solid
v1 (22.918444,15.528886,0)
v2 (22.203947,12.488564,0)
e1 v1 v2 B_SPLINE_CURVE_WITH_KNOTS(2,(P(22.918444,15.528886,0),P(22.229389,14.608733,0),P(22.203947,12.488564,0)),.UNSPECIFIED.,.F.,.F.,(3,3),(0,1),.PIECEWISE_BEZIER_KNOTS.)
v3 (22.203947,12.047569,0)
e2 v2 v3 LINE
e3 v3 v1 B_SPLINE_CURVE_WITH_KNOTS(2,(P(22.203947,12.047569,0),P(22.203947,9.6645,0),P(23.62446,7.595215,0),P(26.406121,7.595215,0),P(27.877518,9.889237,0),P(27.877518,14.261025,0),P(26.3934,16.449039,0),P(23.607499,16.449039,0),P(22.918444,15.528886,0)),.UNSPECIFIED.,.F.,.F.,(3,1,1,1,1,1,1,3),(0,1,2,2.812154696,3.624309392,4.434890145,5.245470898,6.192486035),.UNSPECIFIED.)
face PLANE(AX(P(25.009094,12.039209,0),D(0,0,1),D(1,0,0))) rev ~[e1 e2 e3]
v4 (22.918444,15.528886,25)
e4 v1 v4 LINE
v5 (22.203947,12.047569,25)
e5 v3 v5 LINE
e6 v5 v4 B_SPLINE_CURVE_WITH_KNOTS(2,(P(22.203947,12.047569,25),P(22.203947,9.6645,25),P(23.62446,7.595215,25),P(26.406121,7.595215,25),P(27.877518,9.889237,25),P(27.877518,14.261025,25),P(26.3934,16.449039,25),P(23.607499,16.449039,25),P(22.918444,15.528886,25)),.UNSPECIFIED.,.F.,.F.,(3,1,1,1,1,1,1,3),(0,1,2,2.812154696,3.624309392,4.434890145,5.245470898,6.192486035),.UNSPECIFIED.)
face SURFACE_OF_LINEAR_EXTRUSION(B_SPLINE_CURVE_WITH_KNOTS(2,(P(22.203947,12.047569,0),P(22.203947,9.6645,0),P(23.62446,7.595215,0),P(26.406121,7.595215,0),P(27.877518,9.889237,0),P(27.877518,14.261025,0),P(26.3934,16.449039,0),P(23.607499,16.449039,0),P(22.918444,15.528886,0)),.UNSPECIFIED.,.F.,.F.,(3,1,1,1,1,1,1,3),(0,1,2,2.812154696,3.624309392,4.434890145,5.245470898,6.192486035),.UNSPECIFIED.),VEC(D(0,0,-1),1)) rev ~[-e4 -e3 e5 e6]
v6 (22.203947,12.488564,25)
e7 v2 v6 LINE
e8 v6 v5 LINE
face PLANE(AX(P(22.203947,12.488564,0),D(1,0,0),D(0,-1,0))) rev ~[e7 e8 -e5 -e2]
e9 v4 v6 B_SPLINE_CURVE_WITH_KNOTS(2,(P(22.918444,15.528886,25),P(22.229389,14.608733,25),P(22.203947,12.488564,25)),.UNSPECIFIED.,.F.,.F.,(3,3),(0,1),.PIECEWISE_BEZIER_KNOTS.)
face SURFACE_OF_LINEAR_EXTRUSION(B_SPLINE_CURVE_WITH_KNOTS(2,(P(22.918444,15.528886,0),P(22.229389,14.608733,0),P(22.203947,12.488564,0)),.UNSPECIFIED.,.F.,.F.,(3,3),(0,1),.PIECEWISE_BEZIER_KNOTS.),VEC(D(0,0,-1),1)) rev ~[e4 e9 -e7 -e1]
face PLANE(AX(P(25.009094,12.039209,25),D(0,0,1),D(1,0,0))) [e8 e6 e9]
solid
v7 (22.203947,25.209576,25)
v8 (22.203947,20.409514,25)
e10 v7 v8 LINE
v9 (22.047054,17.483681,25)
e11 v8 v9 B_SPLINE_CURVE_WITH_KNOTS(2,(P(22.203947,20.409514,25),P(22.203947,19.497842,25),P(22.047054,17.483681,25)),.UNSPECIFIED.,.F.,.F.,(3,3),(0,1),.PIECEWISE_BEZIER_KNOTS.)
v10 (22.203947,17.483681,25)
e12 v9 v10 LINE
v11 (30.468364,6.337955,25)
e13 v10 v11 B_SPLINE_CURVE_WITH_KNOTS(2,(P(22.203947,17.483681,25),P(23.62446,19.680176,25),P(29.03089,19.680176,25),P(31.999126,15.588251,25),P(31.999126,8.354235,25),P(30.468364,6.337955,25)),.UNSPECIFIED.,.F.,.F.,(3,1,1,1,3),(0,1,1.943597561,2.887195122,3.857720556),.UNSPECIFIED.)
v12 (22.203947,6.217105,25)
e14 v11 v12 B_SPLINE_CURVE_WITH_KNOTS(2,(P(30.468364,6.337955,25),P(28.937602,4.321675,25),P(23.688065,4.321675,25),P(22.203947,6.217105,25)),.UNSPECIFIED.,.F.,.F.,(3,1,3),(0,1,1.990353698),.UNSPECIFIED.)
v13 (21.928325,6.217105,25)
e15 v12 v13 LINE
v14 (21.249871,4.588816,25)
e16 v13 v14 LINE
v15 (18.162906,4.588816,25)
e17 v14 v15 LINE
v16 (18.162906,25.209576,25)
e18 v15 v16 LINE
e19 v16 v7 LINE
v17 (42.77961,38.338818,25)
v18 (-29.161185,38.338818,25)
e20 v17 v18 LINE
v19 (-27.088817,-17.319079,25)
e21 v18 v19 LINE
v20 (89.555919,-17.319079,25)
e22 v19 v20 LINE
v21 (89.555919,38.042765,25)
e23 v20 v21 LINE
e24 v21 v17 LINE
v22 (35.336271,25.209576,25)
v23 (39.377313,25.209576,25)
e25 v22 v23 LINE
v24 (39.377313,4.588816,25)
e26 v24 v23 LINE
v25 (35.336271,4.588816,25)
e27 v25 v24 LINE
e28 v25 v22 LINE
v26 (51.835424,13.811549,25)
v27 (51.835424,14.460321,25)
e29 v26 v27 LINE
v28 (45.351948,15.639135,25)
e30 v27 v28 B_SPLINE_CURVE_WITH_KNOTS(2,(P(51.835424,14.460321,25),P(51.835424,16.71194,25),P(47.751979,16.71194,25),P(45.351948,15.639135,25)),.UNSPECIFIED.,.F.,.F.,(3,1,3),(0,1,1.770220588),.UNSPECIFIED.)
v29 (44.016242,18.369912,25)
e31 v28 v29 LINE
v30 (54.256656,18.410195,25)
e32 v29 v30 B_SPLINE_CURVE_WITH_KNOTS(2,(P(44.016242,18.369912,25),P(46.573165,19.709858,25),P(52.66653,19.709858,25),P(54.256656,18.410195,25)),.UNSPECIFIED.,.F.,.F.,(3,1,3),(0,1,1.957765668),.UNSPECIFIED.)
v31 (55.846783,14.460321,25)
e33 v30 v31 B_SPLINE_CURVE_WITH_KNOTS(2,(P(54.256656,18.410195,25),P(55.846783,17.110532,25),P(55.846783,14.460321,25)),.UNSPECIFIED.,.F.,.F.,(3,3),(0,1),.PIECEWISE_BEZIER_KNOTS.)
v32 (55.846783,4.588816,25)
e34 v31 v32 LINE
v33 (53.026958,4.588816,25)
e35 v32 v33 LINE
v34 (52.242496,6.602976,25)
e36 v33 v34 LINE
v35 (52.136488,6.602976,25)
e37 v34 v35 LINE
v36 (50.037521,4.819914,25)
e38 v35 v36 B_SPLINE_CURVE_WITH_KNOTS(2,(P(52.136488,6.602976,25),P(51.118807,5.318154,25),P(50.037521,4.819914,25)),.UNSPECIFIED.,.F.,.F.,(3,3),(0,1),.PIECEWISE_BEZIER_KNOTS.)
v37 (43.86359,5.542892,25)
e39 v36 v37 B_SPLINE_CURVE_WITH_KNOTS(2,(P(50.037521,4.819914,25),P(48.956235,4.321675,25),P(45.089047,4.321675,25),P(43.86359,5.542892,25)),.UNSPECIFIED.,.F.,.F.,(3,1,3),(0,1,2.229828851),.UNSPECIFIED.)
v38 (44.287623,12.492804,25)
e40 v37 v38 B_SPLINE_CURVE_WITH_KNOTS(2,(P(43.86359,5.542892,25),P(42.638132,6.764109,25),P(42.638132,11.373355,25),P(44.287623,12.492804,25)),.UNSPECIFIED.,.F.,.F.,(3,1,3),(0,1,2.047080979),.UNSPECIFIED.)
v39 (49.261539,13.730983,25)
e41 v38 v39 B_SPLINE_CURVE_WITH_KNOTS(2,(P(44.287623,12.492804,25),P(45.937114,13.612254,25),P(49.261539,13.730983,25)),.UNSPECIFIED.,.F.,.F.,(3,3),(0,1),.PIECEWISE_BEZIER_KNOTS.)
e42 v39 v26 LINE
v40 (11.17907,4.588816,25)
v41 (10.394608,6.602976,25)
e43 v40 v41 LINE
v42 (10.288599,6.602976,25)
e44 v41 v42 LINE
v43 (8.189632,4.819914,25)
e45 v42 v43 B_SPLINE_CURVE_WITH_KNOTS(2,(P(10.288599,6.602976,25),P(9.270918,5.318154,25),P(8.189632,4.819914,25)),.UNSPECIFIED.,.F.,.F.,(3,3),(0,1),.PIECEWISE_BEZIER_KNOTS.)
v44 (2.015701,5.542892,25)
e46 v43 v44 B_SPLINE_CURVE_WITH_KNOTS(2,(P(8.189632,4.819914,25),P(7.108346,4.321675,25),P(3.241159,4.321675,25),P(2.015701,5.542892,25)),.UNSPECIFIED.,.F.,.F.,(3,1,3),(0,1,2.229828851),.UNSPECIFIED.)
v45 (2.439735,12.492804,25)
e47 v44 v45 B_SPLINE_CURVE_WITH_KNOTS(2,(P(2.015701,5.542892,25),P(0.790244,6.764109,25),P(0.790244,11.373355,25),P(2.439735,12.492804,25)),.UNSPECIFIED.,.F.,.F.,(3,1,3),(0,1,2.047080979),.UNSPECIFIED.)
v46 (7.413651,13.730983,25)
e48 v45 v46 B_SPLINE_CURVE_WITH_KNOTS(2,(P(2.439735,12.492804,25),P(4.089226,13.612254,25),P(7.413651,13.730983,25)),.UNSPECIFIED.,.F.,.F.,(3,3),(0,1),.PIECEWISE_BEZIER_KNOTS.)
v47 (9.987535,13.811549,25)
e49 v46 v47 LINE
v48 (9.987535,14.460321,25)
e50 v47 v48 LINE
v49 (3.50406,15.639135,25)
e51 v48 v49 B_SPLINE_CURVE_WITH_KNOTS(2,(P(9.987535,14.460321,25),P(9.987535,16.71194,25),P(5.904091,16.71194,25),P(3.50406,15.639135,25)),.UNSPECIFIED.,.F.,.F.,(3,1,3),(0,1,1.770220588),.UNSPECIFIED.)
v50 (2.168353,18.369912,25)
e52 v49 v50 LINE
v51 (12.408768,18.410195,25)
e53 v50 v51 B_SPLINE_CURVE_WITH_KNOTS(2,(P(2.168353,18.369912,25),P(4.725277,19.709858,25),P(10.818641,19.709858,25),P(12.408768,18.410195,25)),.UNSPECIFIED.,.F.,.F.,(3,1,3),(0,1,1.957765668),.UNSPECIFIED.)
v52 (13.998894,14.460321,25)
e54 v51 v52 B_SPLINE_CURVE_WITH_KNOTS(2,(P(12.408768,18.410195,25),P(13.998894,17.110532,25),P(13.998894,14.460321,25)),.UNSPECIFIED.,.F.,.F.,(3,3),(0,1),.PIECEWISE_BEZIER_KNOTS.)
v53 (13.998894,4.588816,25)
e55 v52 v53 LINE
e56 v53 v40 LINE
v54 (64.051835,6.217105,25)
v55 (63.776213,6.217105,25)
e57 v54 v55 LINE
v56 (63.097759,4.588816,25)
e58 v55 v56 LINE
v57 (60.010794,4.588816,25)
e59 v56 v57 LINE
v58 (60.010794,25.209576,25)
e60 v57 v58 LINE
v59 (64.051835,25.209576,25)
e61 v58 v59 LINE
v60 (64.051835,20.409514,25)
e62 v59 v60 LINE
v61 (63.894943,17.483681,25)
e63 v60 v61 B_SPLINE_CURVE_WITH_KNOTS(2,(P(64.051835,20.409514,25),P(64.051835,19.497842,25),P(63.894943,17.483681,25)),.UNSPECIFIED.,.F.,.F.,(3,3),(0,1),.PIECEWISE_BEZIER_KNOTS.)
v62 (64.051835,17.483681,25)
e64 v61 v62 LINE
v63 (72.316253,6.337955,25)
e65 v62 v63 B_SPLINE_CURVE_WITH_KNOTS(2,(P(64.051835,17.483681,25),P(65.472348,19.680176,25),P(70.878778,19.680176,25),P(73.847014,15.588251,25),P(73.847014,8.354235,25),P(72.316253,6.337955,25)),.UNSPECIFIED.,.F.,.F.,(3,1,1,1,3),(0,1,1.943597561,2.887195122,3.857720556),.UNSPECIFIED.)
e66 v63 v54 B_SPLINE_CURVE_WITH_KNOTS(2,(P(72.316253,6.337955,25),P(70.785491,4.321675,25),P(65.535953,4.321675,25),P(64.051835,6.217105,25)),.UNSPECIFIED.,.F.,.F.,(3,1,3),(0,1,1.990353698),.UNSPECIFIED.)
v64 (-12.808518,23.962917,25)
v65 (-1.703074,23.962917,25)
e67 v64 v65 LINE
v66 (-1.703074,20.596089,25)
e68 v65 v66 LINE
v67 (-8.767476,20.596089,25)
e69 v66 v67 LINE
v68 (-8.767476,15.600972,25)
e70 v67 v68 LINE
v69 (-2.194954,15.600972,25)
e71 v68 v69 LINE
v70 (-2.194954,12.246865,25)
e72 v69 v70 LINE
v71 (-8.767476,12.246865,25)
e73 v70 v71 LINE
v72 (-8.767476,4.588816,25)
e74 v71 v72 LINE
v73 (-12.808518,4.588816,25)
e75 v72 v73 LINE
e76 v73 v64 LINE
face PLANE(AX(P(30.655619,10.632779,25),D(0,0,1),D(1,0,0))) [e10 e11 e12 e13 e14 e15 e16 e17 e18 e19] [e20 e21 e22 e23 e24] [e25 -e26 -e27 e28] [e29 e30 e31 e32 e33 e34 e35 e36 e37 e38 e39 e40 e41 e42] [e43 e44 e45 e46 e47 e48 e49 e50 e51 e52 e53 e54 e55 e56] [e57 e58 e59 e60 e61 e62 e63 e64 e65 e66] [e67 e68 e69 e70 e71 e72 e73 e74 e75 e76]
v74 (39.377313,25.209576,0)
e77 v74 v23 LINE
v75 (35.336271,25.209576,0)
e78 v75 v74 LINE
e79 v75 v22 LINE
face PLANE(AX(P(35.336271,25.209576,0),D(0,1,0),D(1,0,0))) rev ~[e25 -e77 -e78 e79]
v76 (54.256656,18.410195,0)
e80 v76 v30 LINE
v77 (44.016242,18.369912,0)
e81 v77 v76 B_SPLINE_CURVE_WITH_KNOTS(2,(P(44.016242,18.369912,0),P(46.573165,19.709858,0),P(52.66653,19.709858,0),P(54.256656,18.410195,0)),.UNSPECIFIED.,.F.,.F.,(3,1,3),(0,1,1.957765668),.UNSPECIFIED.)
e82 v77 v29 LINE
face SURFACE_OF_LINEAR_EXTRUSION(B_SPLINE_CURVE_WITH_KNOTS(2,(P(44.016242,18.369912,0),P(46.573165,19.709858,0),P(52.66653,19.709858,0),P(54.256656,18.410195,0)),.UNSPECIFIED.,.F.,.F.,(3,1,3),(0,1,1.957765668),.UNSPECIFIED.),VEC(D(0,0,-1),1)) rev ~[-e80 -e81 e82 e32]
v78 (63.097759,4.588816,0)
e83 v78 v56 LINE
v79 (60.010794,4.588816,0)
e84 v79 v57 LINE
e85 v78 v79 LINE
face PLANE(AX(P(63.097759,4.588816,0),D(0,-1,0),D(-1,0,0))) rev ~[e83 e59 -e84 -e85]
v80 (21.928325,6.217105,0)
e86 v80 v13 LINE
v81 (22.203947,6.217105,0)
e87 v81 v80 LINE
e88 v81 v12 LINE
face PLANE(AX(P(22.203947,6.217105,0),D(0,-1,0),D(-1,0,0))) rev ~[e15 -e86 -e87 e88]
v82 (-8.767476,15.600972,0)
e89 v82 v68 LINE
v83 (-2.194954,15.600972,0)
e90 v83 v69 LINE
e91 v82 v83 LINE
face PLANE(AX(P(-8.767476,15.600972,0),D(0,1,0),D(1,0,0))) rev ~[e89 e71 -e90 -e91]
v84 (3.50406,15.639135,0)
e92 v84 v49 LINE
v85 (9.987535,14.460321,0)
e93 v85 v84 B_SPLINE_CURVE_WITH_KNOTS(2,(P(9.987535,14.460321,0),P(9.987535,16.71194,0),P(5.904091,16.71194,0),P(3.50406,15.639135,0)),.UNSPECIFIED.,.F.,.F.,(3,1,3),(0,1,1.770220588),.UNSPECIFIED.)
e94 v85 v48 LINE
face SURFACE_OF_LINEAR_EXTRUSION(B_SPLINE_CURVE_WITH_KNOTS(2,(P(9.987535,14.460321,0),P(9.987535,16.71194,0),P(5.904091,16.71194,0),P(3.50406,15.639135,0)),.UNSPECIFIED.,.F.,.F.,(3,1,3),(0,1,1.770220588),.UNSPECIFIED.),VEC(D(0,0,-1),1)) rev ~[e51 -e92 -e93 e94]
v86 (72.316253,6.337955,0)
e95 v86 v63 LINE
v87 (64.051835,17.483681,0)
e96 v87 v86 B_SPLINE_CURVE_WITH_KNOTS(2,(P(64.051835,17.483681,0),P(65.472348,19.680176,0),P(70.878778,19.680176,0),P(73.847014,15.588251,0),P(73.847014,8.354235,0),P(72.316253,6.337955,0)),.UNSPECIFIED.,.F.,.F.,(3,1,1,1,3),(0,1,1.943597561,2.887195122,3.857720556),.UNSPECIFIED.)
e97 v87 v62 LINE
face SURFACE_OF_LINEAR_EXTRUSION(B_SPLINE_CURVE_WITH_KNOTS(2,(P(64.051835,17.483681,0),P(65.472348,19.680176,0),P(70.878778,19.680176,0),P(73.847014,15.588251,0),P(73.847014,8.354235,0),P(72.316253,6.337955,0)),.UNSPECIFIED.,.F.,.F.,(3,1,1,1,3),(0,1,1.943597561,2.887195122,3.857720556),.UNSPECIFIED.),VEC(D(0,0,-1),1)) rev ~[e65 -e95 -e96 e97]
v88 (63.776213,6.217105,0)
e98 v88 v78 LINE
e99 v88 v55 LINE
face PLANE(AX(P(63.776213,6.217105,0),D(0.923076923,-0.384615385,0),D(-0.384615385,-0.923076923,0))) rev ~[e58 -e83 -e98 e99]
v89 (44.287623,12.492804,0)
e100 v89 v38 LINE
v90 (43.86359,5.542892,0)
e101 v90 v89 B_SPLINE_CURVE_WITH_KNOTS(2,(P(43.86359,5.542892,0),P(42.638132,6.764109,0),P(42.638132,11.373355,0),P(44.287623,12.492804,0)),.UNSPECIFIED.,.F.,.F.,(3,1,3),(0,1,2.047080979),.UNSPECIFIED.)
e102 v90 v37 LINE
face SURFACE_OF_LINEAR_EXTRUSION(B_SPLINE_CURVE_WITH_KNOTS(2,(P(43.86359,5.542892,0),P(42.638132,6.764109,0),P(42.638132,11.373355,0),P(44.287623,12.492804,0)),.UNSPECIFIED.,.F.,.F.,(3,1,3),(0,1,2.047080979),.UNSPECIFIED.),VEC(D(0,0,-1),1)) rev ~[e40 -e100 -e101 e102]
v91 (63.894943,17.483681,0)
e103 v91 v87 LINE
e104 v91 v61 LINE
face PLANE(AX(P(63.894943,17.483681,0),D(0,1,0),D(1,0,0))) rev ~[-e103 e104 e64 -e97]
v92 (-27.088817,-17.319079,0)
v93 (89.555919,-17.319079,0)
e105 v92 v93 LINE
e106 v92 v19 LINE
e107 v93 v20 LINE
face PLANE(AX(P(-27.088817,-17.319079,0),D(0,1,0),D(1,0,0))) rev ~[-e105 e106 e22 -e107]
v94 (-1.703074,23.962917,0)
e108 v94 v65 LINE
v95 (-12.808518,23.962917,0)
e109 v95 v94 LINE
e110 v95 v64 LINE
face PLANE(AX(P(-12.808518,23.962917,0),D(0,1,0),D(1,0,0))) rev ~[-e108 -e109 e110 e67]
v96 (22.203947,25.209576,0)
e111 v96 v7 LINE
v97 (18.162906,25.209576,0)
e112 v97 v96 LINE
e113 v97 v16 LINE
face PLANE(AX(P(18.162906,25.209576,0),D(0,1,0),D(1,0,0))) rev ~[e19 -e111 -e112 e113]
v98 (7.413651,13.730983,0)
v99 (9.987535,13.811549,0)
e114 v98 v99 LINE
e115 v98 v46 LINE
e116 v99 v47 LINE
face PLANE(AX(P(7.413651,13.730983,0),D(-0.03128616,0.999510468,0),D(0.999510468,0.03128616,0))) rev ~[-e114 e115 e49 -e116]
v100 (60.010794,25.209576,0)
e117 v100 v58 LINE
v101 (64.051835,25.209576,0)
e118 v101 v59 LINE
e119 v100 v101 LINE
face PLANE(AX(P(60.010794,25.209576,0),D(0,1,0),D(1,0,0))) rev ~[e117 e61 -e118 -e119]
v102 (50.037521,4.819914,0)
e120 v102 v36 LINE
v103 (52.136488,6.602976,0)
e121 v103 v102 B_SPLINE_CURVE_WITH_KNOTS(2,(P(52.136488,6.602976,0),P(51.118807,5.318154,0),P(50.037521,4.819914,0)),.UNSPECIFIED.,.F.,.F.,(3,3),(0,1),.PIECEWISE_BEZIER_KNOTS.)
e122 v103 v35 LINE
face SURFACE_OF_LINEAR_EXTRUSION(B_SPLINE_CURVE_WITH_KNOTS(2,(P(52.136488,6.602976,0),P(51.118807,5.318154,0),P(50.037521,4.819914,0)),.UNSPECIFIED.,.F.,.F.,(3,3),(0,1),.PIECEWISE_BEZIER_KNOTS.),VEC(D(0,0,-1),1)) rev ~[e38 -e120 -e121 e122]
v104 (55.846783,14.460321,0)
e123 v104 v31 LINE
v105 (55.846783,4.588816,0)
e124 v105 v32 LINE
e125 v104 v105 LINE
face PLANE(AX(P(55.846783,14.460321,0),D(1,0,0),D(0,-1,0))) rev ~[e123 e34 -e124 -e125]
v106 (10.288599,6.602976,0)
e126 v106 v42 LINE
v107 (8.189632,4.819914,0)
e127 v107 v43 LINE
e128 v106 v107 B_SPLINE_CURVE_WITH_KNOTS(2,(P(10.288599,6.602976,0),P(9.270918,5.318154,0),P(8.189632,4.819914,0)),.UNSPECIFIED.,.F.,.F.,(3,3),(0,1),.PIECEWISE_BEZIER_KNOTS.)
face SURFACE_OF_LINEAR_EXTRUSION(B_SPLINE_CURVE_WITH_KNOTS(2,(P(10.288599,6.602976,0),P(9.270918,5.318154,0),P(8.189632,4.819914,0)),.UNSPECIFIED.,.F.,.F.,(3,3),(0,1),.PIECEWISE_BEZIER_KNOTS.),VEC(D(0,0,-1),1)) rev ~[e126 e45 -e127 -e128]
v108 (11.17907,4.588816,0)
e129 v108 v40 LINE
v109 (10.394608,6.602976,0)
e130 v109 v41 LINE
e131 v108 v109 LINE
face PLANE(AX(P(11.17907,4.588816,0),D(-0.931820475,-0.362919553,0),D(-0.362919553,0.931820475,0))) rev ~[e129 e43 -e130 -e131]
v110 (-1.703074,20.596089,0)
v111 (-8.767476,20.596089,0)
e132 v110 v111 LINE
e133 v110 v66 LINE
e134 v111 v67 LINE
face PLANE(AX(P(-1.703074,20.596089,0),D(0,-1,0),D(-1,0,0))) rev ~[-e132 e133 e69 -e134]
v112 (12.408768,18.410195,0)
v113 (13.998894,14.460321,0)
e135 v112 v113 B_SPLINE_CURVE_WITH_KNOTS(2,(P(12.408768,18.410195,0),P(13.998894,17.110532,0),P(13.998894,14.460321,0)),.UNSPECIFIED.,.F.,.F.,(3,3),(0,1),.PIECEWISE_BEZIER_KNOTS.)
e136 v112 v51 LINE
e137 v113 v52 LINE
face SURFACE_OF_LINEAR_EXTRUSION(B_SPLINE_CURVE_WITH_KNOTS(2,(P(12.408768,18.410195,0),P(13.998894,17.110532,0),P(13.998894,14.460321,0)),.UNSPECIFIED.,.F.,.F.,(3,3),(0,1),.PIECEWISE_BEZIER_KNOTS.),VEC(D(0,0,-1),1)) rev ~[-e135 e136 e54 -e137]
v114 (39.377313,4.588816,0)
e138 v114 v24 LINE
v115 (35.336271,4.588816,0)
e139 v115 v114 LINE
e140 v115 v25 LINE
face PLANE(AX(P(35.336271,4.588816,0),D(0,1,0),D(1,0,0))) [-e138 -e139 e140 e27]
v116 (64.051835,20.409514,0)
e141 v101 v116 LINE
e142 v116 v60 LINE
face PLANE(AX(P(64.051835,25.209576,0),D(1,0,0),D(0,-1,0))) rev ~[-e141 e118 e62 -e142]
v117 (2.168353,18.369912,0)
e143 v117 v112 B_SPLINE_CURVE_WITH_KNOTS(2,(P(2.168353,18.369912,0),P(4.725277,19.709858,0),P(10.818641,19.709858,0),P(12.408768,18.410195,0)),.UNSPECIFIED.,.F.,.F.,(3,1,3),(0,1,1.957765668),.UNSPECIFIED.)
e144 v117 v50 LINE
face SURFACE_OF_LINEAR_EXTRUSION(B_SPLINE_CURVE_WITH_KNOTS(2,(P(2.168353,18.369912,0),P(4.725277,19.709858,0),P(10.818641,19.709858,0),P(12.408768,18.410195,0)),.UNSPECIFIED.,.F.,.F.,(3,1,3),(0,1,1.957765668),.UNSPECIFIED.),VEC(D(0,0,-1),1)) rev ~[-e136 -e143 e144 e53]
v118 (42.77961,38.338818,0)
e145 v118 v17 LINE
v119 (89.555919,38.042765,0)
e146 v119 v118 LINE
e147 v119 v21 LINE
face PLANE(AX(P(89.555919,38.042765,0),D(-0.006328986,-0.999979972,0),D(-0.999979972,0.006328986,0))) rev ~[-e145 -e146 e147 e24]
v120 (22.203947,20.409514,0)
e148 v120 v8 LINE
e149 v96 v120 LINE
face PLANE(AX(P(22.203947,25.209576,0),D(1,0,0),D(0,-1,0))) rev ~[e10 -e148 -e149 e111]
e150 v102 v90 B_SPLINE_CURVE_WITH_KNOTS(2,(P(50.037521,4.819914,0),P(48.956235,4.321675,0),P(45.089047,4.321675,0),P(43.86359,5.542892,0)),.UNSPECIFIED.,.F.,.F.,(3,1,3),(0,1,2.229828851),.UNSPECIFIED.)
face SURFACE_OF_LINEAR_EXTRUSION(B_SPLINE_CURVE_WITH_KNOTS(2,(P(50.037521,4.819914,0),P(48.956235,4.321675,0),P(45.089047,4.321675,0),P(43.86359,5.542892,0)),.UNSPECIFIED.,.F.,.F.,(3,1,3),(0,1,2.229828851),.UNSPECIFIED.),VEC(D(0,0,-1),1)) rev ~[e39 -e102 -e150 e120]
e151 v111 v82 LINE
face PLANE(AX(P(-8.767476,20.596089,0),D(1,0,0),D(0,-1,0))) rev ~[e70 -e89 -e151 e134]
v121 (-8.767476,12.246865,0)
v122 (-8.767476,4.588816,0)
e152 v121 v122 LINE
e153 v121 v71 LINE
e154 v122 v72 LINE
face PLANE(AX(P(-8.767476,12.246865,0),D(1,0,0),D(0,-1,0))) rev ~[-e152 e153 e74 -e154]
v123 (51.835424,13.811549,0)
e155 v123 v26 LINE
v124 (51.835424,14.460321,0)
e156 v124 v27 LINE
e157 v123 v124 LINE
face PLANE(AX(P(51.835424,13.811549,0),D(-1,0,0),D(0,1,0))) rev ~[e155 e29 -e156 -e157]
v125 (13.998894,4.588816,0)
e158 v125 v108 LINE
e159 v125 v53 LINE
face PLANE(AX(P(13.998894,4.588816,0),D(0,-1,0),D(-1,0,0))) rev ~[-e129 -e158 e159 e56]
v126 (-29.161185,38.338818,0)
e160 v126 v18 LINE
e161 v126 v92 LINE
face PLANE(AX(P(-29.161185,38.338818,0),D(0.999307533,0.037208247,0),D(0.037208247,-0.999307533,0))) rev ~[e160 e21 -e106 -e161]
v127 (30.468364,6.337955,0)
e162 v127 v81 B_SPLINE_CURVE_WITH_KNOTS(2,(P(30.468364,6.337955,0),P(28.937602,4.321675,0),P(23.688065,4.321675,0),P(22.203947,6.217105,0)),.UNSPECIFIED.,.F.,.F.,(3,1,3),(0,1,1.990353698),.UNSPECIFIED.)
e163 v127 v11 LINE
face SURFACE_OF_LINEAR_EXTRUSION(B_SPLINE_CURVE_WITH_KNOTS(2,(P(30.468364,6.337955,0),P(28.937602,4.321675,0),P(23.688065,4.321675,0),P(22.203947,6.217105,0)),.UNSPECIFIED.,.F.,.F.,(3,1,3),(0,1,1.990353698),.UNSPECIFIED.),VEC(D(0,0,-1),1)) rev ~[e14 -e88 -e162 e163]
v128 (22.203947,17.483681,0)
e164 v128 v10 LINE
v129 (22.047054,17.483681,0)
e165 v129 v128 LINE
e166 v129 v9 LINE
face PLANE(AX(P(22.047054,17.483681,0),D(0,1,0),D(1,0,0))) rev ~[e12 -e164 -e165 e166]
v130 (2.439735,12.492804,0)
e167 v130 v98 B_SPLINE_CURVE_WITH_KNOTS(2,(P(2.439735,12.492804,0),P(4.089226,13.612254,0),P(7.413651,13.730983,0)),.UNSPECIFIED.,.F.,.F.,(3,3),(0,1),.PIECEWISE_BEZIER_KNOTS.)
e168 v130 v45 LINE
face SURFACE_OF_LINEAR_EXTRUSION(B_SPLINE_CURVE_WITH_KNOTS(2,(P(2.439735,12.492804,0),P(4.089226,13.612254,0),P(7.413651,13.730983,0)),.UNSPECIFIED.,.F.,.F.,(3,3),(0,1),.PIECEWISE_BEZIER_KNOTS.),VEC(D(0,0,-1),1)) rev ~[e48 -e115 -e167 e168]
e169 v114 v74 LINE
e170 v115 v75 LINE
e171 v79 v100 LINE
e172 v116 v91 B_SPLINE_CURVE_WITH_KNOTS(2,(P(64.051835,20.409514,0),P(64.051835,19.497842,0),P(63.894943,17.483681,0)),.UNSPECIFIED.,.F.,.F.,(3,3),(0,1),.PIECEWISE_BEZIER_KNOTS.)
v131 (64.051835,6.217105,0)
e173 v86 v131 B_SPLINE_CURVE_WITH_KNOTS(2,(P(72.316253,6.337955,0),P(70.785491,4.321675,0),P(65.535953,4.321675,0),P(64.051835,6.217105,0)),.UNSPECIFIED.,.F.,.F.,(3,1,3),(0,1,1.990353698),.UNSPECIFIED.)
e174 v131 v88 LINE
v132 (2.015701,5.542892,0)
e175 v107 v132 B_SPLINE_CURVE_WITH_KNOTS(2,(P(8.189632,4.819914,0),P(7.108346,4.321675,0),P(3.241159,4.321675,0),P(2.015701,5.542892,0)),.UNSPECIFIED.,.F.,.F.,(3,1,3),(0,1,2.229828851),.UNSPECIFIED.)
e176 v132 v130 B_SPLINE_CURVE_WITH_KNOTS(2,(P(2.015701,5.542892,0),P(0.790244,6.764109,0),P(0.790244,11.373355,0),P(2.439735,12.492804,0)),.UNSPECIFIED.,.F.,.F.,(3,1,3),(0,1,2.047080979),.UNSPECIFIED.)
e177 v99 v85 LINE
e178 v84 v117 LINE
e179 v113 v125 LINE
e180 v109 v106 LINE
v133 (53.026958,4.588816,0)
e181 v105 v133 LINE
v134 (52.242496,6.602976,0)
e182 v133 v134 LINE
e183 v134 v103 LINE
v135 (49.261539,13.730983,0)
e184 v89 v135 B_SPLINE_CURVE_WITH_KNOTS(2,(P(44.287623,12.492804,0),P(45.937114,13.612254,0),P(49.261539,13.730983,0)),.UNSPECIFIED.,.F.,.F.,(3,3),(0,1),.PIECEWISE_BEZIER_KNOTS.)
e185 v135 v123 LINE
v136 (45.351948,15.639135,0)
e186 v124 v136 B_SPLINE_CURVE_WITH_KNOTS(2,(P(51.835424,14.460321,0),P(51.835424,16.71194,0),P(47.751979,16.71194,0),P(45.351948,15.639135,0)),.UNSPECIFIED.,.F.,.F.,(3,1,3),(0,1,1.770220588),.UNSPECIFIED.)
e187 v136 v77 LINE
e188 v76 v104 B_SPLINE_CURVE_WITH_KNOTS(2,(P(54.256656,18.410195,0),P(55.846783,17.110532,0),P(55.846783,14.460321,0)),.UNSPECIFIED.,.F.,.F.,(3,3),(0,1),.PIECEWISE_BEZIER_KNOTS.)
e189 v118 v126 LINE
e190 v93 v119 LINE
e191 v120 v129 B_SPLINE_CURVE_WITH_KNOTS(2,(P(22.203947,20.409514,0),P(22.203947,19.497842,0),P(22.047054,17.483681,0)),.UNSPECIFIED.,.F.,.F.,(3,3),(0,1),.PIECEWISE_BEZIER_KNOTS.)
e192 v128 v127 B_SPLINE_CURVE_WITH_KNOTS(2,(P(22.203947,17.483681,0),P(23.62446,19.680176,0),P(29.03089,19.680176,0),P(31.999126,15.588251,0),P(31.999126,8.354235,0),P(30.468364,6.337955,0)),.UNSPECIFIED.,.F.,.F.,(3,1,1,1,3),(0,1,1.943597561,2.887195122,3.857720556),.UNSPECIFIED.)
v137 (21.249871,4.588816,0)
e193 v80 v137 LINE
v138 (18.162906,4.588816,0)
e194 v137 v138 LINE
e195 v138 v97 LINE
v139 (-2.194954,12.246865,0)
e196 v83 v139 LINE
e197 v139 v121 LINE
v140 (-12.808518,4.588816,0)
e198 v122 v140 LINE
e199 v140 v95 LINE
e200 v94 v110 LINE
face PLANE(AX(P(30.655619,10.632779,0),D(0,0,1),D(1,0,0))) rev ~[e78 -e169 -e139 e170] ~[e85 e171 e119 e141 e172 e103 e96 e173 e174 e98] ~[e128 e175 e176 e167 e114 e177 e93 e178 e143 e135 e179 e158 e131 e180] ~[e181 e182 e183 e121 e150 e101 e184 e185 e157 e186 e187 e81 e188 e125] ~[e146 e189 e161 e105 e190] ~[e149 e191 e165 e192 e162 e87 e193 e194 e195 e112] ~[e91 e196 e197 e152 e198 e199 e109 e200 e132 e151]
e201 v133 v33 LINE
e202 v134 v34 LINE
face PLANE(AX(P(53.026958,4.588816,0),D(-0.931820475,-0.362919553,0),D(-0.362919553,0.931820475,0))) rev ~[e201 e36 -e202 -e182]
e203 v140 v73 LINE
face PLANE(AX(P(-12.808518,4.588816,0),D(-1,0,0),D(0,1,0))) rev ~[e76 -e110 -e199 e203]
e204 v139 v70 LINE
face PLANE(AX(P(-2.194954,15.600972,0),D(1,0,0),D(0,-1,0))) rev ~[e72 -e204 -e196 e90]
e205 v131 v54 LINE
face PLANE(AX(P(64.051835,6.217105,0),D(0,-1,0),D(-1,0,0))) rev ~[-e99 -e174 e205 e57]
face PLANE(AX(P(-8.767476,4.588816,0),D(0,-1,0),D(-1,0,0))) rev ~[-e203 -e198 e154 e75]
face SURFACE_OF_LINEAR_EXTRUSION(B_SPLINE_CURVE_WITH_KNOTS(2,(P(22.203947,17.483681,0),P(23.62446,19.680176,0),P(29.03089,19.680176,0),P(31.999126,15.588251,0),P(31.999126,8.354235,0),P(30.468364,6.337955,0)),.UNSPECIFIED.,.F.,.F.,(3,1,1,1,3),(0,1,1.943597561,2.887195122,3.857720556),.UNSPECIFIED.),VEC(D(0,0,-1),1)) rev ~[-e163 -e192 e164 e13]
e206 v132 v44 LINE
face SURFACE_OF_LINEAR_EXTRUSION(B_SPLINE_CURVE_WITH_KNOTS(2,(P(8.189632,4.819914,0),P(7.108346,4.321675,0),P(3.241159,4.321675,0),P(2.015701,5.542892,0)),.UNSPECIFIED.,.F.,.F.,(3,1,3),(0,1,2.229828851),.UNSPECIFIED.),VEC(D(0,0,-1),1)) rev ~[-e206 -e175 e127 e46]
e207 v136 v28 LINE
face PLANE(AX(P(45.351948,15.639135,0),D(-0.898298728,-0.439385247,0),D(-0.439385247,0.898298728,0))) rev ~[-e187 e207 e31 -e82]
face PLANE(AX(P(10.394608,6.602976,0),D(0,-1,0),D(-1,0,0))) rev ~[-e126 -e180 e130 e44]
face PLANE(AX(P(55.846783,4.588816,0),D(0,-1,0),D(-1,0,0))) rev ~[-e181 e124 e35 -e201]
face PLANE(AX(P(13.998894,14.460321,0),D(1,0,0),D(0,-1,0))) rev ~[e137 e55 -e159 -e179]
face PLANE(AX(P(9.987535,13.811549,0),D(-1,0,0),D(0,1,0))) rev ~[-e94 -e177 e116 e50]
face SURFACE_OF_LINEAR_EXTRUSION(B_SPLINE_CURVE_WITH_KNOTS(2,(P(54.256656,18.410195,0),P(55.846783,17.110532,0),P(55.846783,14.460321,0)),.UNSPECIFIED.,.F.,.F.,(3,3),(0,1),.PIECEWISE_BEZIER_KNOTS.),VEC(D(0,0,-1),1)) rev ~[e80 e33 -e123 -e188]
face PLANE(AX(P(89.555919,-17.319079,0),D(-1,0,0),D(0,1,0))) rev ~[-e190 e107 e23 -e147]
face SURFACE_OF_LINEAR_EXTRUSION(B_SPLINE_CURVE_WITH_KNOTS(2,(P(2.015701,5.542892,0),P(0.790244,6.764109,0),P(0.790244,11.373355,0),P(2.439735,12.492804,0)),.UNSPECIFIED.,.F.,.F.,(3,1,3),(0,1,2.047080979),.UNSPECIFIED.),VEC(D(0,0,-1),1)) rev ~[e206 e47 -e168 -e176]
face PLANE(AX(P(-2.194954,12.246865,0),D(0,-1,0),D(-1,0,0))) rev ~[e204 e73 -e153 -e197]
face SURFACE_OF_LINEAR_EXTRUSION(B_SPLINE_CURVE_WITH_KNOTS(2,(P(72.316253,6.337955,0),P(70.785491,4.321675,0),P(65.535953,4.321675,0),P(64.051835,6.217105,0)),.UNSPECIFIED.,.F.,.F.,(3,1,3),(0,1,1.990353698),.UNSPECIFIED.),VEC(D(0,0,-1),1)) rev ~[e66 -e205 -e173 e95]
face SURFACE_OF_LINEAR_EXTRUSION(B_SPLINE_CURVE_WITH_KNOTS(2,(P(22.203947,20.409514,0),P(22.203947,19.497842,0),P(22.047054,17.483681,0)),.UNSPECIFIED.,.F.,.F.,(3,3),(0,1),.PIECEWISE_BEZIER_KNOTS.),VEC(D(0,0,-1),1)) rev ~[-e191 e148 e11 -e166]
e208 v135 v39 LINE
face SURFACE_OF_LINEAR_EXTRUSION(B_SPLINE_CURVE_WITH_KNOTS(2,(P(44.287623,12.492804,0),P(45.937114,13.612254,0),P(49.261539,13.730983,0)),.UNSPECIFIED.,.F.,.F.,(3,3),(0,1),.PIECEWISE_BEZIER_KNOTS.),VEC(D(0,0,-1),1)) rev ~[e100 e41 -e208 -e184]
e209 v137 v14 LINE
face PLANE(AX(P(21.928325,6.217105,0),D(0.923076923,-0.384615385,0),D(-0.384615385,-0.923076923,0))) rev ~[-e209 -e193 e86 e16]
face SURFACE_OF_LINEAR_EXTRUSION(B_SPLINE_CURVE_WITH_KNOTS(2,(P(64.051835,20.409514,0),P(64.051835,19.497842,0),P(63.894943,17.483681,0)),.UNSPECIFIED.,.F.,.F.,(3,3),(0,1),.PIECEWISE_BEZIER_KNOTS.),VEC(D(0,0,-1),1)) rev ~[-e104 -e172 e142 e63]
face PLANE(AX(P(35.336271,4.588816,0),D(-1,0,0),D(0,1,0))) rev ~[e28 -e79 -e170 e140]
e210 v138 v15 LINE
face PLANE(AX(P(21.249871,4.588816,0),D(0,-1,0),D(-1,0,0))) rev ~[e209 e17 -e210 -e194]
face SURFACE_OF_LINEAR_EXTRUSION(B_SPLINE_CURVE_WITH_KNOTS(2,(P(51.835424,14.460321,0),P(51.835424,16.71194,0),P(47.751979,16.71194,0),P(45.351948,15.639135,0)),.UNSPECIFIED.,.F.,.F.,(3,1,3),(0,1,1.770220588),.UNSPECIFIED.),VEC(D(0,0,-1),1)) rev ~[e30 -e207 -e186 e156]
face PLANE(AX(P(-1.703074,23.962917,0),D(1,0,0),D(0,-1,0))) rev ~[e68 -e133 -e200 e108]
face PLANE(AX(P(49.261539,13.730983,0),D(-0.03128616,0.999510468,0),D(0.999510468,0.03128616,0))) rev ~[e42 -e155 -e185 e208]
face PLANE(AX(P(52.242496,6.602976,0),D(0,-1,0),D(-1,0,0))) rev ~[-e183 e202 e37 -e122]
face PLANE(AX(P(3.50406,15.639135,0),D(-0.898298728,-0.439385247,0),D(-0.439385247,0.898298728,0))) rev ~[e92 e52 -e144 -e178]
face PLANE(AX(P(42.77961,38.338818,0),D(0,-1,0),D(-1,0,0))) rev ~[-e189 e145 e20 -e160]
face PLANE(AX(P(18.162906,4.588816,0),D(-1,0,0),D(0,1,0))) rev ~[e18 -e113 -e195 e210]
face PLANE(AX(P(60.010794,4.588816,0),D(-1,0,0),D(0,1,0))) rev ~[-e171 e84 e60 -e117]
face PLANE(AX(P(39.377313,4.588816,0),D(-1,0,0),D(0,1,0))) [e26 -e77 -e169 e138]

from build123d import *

# Parameters (mm, degrees)
F0_W     = 4.0410413984
F0_H     = 20.6207600425
F1_DEPTH = 25


with BuildPart() as f1:
    # F0 (on Top) → F1 (new body)
    with BuildSketch(Plane.XY):
        Polygon((42.779609561, 38.338817656), (-29.1611850262, 38.338817656), (-27.088817209, -17.3190794885), (42.779609561, -17.3190794885), (89.5559191704, -17.3190794885), (89.5559191704, 38.0427651107), align=None)
        Polygon((-8.7674763547, 12.2468649212), (-8.7674763547, 4.5888158493), (-12.8085177531, 4.5888158493), (-12.8085177531, 23.9629167406), (-1.7030744976, 23.9629167406), (-1.7030744976, 20.5960889647), (-8.7674763547, 20.5960889647), (-8.7674763547, 15.6009716853), (-2.1949536185, 15.6009716853), (-2.1949536185, 12.2468649212), align=None, mode=Mode.SUBTRACT)
        with BuildLine():
            Line((13.9988943359, 4.5888158493), (11.1790700652, 4.5888158493))
            Line((11.1790700652, 4.5888158493), (10.3946076741, 6.6029760426))
            Line((10.3946076741, 6.6029760426), (10.2885992429, 6.6029760426))
            add(Edge.make_bspline(
                [(10.2885992429, 6.6029760426), (9.2709183031, 5.3181538561), (8.1896323046, 4.8199142294)],
                knots=[0, 0, 0, 1, 1, 1], degree=2))
            add(Edge.make_bspline(
                [(8.1896323046, 4.8199142294), (7.1083463061, 4.3216746026), (5.3740483712, 4.3216746026)],
                knots=[0, 0, 0, 1, 1, 1], degree=2))
            add(Edge.make_bspline(
                [(5.3740483712, 4.3216746026), (3.2411587349, 4.3216746026), (2.0157012699, 5.5428917303)],
                knots=[0, 0, 0, 1, 1, 1], degree=2))
            add(Edge.make_bspline(
                [(2.0157012699, 5.5428917303), (0.7902438049, 6.7641088581), (0.7902438049, 9.0157279374)],
                knots=[0, 0, 0, 1, 1, 1], degree=2))
            add(Edge.make_bspline(
                [(0.7902438049, 9.0157279374), (0.7902438049, 11.3733554479), (2.4397349948, 12.4928044817)],
                knots=[0, 0, 0, 1, 1, 1], degree=2))
            add(Edge.make_bspline(
                [(2.4397349948, 12.4928044817), (4.0892261847, 13.6122535154), (7.413650588, 13.7309829584)],
                knots=[0, 0, 0, 1, 1, 1], degree=2))
            Line((7.413650588, 13.7309829584), (9.9875352982, 13.8115493661))
            Line((9.9875352982, 13.8115493661), (9.9875352982, 14.4603209653))
            add(Edge.make_bspline(
                [(9.9875352982, 14.4603209653), (9.9875352982, 16.7119400445), (7.6807918347, 16.7119400445)],
                knots=[0, 0, 0, 1, 1, 1], degree=2))
            add(Edge.make_bspline(
                [(7.6807918347, 16.7119400445), (5.9040905273, 16.7119400445), (3.5040596443, 15.6391347205)],
                knots=[0, 0, 0, 1, 1, 1], degree=2))
            Line((3.5040596443, 15.6391347205), (2.1683534108, 18.3699119089))
            add(Edge.make_bspline(
                [(2.1683534108, 18.3699119089), (4.7252767721, 19.7098584797), (7.8376843129, 19.7098584797)],
                knots=[0, 0, 0, 1, 1, 1], degree=2))
            add(Edge.make_bspline(
                [(7.8376843129, 19.7098584797), (10.8186413991, 19.7098584797), (12.4087678675, 18.4101951128)],
                knots=[0, 0, 0, 1, 1, 1], degree=2))
            add(Edge.make_bspline(
                [(12.4087678675, 18.4101951128), (13.9988943359, 17.110531746), (13.9988943359, 14.4603209653)],
                knots=[0, 0, 0, 1, 1, 1], degree=2))
            Line((13.9988943359, 14.4603209653), (13.9988943359, 4.5888158493))
        make_face(mode=Mode.SUBTRACT)
        with BuildLine():
            add(Edge.make_bspline(
                [(22.203946913, 17.4836814239), (23.6244598914, 19.6801761189), (26.4061211269, 19.6801761189)],
                knots=[0, 0, 0, 1, 1, 1], degree=2))
            add(Edge.make_bspline(
                [(26.4061211269, 19.6801761189), (29.0308898841, 19.6801761189), (30.5150079213, 17.6342133962)],
                knots=[0, 0, 0, 1, 1, 1], degree=2))
            add(Edge.make_bspline(
                [(30.5150079213, 17.6342133962), (31.9991259585, 15.5882506735), (31.9991259585, 12.022127047)],
                knots=[0, 0, 0, 1, 1, 1], degree=2))
            add(Edge.make_bspline(
                [(31.9991259585, 12.022127047), (31.9991259585, 8.3542353265), (30.4683642115, 6.3379549645)],
                knots=[0, 0, 0, 1, 1, 1], degree=2))
            add(Edge.make_bspline(
                [(30.4683642115, 6.3379549645), (28.9376024646, 4.3216746026), (26.3001126956, 4.3216746026)],
                knots=[0, 0, 0, 1, 1, 1], degree=2))
            add(Edge.make_bspline(
                [(26.3001126956, 4.3216746026), (23.6880649502, 4.3216746026), (22.203946913, 6.2171053529)],
                knots=[0, 0, 0, 1, 1, 1], degree=2))
            Line((22.203946913, 6.2171053529), (21.9283249918, 6.2171053529))
            Line((21.9283249918, 6.2171053529), (21.2498710319, 4.5888158493))
            Line((21.2498710319, 4.5888158493), (18.1629055145, 4.5888158493))
            Line((18.1629055145, 4.5888158493), (18.1629055145, 25.2095758918))
            Line((18.1629055145, 25.2095758918), (22.203946913, 25.2095758918))
            Line((22.203946913, 25.2095758918), (22.203946913, 20.4095141258))
            add(Edge.make_bspline(
                [(22.203946913, 20.4095141258), (22.203946913, 19.4978416172), (22.0470544348, 17.4836814239)],
                knots=[0, 0, 0, 1, 1, 1], degree=2))
            Line((22.0470544348, 17.4836814239), (22.203946913, 17.4836814239))
        make_face(mode=Mode.SUBTRACT)
        with Locations((37.3567920727, 14.8991958705)):
            Rectangle(F0_W, F0_H, mode=Mode.SUBTRACT)
        with BuildLine():
            Line((55.8467826476, 4.5888158493), (53.0269583769, 4.5888158493))
            Line((53.0269583769, 4.5888158493), (52.2424959858, 6.6029760426))
            Line((52.2424959858, 6.6029760426), (52.1364875546, 6.6029760426))
            add(Edge.make_bspline(
                [(52.1364875546, 6.6029760426), (51.1188066148, 5.3181538561), (50.0375206163, 4.8199142294)],
                knots=[0, 0, 0, 1, 1, 1], degree=2))
            add(Edge.make_bspline(
                [(50.0375206163, 4.8199142294), (48.9562346177, 4.3216746026), (47.2219366828, 4.3216746026)],
                knots=[0, 0, 0, 1, 1, 1], degree=2))
            add(Edge.make_bspline(
                [(47.2219366828, 4.3216746026), (45.0890470465, 4.3216746026), (43.8635895815, 5.5428917303)],
                knots=[0, 0, 0, 1, 1, 1], degree=2))
            add(Edge.make_bspline(
                [(43.8635895815, 5.5428917303), (42.6381321165, 6.7641088581), (42.6381321165, 9.0157279374)],
                knots=[0, 0, 0, 1, 1, 1], degree=2))
            add(Edge.make_bspline(
                [(42.6381321165, 9.0157279374), (42.6381321165, 11.3733554479), (44.2876233064, 12.4928044817)],
                knots=[0, 0, 0, 1, 1, 1], degree=2))
            add(Edge.make_bspline(
                [(44.2876233064, 12.4928044817), (45.9371144964, 13.6122535154), (49.2615388997, 13.7309829584)],
                knots=[0, 0, 0, 1, 1, 1], degree=2))
            Line((49.2615388997, 13.7309829584), (51.8354236099, 13.8115493661))
            Line((51.8354236099, 13.8115493661), (51.8354236099, 14.4603209653))
            add(Edge.make_bspline(
                [(51.8354236099, 14.4603209653), (51.8354236099, 16.7119400445), (49.5286801464, 16.7119400445)],
                knots=[0, 0, 0, 1, 1, 1], degree=2))
            add(Edge.make_bspline(
                [(49.5286801464, 16.7119400445), (47.751978839, 16.7119400445), (45.351947956, 15.6391347205)],
                knots=[0, 0, 0, 1, 1, 1], degree=2))
            Line((45.351947956, 15.6391347205), (44.0162417225, 18.3699119089))
            add(Edge.make_bspline(
                [(44.0162417225, 18.3699119089), (46.5731650837, 19.7098584797), (49.6855726246, 19.7098584797)],
                knots=[0, 0, 0, 1, 1, 1], degree=2))
            add(Edge.make_bspline(
                [(49.6855726246, 19.7098584797), (52.6665297107, 19.7098584797), (54.2566561792, 18.4101951128)],
                knots=[0, 0, 0, 1, 1, 1], degree=2))
            add(Edge.make_bspline(
                [(54.2566561792, 18.4101951128), (55.8467826476, 17.110531746), (55.8467826476, 14.4603209653)],
                knots=[0, 0, 0, 1, 1, 1], degree=2))
            Line((55.8467826476, 14.4603209653), (55.8467826476, 4.5888158493))
        make_face(mode=Mode.SUBTRACT)
        with BuildLine():
            add(Edge.make_bspline(
                [(64.0518352246, 17.4836814239), (65.4723482031, 19.6801761189), (68.2540094385, 19.6801761189)],
                knots=[0, 0, 0, 1, 1, 1], degree=2))
            add(Edge.make_bspline(
                [(68.2540094385, 19.6801761189), (70.8787781957, 19.6801761189), (72.3628962329, 17.6342133962)],
                knots=[0, 0, 0, 1, 1, 1], degree=2))
            add(Edge.make_bspline(
                [(72.3628962329, 17.6342133962), (73.8470142701, 15.5882506735), (73.8470142701, 12.022127047)],
                knots=[0, 0, 0, 1, 1, 1], degree=2))
            add(Edge.make_bspline(
                [(73.8470142701, 12.022127047), (73.8470142701, 8.3542353265), (72.3162525232, 6.3379549645)],
                knots=[0, 0, 0, 1, 1, 1], degree=2))
            add(Edge.make_bspline(
                [(72.3162525232, 6.3379549645), (70.7854907763, 4.3216746026), (68.1480010073, 4.3216746026)],
                knots=[0, 0, 0, 1, 1, 1], degree=2))
            add(Edge.make_bspline(
                [(68.1480010073, 4.3216746026), (65.5359532618, 4.3216746026), (64.0518352246, 6.2171053529)],
                knots=[0, 0, 0, 1, 1, 1], degree=2))
            Line((64.0518352246, 6.2171053529), (63.7762133035, 6.2171053529))
            Line((63.7762133035, 6.2171053529), (63.0977593436, 4.5888158493))
            Line((63.0977593436, 4.5888158493), (60.0107938262, 4.5888158493))
            Line((60.0107938262, 4.5888158493), (60.0107938262, 25.2095758918))
            Line((60.0107938262, 25.2095758918), (64.0518352246, 25.2095758918))
            Line((64.0518352246, 25.2095758918), (64.0518352246, 20.4095141258))
            add(Edge.make_bspline(
                [(64.0518352246, 20.4095141258), (64.0518352246, 19.4978416172), (63.8949427464, 17.4836814239)],
                knots=[0, 0, 0, 1, 1, 1], degree=2))
            Line((63.8949427464, 17.4836814239), (64.0518352246, 17.4836814239))
        make_face(mode=Mode.SUBTRACT)
    extrude(amount=F1_DEPTH)


with BuildPart() as f1b:
    # F0 (on Top) → F1, piece 2 (new body)
    with BuildSketch(Plane.XY):
        with BuildLine():
            add(Edge.make_bspline(
                [(27.1354591337, 15.3550321248), (26.3934001151, 16.4490391351), (25.1085779286, 16.4490391351)],
                knots=[0, 0, 0, 1, 1, 1], degree=2))
            add(Edge.make_bspline(
                [(25.1085779286, 16.4490391351), (23.6074985424, 16.4490391351), (22.9184437395, 15.528885952)],
                knots=[0, 0, 0, 1, 1, 1], degree=2))
            add(Edge.make_bspline(
                [(22.9184437395, 15.528885952), (22.2293889365, 14.608732769), (22.203946913, 12.4885641444)],
                knots=[0, 0, 0, 1, 1, 1], degree=2))
            Line((22.203946913, 12.4885641444), (22.203946913, 12.0475690705))
            add(Edge.make_bspline(
                [(22.203946913, 12.0475690705), (22.203946913, 9.6644995365), (22.9142034022, 8.6298572477)],
                knots=[0, 0, 0, 1, 1, 1], degree=2))
            add(Edge.make_bspline(
                [(22.9142034022, 8.6298572477), (23.6244598914, 7.5952149589), (25.1594619756, 7.5952149589)],
                knots=[0, 0, 0, 1, 1, 1], degree=2))
            add(Edge.make_bspline(
                [(25.1594619756, 7.5952149589), (26.4061211269, 7.5952149589), (27.1418196396, 8.7422261848)],
                knots=[0, 0, 0, 1, 1, 1], degree=2))
            add(Edge.make_bspline(
                [(27.1418196396, 8.7422261848), (27.8775181523, 9.8892374107), (27.8775181523, 12.0772514312)],
                knots=[0, 0, 0, 1, 1, 1], degree=2))
            add(Edge.make_bspline(
                [(27.8775181523, 12.0772514312), (27.8775181523, 14.2610251145), (27.1354591337, 15.3550321248)],
                knots=[0, 0, 0, 1, 1, 1], degree=2))
        make_face()
    extrude(amount=F1_DEPTH)


solid = Compound([f1.part, f1b.part])
